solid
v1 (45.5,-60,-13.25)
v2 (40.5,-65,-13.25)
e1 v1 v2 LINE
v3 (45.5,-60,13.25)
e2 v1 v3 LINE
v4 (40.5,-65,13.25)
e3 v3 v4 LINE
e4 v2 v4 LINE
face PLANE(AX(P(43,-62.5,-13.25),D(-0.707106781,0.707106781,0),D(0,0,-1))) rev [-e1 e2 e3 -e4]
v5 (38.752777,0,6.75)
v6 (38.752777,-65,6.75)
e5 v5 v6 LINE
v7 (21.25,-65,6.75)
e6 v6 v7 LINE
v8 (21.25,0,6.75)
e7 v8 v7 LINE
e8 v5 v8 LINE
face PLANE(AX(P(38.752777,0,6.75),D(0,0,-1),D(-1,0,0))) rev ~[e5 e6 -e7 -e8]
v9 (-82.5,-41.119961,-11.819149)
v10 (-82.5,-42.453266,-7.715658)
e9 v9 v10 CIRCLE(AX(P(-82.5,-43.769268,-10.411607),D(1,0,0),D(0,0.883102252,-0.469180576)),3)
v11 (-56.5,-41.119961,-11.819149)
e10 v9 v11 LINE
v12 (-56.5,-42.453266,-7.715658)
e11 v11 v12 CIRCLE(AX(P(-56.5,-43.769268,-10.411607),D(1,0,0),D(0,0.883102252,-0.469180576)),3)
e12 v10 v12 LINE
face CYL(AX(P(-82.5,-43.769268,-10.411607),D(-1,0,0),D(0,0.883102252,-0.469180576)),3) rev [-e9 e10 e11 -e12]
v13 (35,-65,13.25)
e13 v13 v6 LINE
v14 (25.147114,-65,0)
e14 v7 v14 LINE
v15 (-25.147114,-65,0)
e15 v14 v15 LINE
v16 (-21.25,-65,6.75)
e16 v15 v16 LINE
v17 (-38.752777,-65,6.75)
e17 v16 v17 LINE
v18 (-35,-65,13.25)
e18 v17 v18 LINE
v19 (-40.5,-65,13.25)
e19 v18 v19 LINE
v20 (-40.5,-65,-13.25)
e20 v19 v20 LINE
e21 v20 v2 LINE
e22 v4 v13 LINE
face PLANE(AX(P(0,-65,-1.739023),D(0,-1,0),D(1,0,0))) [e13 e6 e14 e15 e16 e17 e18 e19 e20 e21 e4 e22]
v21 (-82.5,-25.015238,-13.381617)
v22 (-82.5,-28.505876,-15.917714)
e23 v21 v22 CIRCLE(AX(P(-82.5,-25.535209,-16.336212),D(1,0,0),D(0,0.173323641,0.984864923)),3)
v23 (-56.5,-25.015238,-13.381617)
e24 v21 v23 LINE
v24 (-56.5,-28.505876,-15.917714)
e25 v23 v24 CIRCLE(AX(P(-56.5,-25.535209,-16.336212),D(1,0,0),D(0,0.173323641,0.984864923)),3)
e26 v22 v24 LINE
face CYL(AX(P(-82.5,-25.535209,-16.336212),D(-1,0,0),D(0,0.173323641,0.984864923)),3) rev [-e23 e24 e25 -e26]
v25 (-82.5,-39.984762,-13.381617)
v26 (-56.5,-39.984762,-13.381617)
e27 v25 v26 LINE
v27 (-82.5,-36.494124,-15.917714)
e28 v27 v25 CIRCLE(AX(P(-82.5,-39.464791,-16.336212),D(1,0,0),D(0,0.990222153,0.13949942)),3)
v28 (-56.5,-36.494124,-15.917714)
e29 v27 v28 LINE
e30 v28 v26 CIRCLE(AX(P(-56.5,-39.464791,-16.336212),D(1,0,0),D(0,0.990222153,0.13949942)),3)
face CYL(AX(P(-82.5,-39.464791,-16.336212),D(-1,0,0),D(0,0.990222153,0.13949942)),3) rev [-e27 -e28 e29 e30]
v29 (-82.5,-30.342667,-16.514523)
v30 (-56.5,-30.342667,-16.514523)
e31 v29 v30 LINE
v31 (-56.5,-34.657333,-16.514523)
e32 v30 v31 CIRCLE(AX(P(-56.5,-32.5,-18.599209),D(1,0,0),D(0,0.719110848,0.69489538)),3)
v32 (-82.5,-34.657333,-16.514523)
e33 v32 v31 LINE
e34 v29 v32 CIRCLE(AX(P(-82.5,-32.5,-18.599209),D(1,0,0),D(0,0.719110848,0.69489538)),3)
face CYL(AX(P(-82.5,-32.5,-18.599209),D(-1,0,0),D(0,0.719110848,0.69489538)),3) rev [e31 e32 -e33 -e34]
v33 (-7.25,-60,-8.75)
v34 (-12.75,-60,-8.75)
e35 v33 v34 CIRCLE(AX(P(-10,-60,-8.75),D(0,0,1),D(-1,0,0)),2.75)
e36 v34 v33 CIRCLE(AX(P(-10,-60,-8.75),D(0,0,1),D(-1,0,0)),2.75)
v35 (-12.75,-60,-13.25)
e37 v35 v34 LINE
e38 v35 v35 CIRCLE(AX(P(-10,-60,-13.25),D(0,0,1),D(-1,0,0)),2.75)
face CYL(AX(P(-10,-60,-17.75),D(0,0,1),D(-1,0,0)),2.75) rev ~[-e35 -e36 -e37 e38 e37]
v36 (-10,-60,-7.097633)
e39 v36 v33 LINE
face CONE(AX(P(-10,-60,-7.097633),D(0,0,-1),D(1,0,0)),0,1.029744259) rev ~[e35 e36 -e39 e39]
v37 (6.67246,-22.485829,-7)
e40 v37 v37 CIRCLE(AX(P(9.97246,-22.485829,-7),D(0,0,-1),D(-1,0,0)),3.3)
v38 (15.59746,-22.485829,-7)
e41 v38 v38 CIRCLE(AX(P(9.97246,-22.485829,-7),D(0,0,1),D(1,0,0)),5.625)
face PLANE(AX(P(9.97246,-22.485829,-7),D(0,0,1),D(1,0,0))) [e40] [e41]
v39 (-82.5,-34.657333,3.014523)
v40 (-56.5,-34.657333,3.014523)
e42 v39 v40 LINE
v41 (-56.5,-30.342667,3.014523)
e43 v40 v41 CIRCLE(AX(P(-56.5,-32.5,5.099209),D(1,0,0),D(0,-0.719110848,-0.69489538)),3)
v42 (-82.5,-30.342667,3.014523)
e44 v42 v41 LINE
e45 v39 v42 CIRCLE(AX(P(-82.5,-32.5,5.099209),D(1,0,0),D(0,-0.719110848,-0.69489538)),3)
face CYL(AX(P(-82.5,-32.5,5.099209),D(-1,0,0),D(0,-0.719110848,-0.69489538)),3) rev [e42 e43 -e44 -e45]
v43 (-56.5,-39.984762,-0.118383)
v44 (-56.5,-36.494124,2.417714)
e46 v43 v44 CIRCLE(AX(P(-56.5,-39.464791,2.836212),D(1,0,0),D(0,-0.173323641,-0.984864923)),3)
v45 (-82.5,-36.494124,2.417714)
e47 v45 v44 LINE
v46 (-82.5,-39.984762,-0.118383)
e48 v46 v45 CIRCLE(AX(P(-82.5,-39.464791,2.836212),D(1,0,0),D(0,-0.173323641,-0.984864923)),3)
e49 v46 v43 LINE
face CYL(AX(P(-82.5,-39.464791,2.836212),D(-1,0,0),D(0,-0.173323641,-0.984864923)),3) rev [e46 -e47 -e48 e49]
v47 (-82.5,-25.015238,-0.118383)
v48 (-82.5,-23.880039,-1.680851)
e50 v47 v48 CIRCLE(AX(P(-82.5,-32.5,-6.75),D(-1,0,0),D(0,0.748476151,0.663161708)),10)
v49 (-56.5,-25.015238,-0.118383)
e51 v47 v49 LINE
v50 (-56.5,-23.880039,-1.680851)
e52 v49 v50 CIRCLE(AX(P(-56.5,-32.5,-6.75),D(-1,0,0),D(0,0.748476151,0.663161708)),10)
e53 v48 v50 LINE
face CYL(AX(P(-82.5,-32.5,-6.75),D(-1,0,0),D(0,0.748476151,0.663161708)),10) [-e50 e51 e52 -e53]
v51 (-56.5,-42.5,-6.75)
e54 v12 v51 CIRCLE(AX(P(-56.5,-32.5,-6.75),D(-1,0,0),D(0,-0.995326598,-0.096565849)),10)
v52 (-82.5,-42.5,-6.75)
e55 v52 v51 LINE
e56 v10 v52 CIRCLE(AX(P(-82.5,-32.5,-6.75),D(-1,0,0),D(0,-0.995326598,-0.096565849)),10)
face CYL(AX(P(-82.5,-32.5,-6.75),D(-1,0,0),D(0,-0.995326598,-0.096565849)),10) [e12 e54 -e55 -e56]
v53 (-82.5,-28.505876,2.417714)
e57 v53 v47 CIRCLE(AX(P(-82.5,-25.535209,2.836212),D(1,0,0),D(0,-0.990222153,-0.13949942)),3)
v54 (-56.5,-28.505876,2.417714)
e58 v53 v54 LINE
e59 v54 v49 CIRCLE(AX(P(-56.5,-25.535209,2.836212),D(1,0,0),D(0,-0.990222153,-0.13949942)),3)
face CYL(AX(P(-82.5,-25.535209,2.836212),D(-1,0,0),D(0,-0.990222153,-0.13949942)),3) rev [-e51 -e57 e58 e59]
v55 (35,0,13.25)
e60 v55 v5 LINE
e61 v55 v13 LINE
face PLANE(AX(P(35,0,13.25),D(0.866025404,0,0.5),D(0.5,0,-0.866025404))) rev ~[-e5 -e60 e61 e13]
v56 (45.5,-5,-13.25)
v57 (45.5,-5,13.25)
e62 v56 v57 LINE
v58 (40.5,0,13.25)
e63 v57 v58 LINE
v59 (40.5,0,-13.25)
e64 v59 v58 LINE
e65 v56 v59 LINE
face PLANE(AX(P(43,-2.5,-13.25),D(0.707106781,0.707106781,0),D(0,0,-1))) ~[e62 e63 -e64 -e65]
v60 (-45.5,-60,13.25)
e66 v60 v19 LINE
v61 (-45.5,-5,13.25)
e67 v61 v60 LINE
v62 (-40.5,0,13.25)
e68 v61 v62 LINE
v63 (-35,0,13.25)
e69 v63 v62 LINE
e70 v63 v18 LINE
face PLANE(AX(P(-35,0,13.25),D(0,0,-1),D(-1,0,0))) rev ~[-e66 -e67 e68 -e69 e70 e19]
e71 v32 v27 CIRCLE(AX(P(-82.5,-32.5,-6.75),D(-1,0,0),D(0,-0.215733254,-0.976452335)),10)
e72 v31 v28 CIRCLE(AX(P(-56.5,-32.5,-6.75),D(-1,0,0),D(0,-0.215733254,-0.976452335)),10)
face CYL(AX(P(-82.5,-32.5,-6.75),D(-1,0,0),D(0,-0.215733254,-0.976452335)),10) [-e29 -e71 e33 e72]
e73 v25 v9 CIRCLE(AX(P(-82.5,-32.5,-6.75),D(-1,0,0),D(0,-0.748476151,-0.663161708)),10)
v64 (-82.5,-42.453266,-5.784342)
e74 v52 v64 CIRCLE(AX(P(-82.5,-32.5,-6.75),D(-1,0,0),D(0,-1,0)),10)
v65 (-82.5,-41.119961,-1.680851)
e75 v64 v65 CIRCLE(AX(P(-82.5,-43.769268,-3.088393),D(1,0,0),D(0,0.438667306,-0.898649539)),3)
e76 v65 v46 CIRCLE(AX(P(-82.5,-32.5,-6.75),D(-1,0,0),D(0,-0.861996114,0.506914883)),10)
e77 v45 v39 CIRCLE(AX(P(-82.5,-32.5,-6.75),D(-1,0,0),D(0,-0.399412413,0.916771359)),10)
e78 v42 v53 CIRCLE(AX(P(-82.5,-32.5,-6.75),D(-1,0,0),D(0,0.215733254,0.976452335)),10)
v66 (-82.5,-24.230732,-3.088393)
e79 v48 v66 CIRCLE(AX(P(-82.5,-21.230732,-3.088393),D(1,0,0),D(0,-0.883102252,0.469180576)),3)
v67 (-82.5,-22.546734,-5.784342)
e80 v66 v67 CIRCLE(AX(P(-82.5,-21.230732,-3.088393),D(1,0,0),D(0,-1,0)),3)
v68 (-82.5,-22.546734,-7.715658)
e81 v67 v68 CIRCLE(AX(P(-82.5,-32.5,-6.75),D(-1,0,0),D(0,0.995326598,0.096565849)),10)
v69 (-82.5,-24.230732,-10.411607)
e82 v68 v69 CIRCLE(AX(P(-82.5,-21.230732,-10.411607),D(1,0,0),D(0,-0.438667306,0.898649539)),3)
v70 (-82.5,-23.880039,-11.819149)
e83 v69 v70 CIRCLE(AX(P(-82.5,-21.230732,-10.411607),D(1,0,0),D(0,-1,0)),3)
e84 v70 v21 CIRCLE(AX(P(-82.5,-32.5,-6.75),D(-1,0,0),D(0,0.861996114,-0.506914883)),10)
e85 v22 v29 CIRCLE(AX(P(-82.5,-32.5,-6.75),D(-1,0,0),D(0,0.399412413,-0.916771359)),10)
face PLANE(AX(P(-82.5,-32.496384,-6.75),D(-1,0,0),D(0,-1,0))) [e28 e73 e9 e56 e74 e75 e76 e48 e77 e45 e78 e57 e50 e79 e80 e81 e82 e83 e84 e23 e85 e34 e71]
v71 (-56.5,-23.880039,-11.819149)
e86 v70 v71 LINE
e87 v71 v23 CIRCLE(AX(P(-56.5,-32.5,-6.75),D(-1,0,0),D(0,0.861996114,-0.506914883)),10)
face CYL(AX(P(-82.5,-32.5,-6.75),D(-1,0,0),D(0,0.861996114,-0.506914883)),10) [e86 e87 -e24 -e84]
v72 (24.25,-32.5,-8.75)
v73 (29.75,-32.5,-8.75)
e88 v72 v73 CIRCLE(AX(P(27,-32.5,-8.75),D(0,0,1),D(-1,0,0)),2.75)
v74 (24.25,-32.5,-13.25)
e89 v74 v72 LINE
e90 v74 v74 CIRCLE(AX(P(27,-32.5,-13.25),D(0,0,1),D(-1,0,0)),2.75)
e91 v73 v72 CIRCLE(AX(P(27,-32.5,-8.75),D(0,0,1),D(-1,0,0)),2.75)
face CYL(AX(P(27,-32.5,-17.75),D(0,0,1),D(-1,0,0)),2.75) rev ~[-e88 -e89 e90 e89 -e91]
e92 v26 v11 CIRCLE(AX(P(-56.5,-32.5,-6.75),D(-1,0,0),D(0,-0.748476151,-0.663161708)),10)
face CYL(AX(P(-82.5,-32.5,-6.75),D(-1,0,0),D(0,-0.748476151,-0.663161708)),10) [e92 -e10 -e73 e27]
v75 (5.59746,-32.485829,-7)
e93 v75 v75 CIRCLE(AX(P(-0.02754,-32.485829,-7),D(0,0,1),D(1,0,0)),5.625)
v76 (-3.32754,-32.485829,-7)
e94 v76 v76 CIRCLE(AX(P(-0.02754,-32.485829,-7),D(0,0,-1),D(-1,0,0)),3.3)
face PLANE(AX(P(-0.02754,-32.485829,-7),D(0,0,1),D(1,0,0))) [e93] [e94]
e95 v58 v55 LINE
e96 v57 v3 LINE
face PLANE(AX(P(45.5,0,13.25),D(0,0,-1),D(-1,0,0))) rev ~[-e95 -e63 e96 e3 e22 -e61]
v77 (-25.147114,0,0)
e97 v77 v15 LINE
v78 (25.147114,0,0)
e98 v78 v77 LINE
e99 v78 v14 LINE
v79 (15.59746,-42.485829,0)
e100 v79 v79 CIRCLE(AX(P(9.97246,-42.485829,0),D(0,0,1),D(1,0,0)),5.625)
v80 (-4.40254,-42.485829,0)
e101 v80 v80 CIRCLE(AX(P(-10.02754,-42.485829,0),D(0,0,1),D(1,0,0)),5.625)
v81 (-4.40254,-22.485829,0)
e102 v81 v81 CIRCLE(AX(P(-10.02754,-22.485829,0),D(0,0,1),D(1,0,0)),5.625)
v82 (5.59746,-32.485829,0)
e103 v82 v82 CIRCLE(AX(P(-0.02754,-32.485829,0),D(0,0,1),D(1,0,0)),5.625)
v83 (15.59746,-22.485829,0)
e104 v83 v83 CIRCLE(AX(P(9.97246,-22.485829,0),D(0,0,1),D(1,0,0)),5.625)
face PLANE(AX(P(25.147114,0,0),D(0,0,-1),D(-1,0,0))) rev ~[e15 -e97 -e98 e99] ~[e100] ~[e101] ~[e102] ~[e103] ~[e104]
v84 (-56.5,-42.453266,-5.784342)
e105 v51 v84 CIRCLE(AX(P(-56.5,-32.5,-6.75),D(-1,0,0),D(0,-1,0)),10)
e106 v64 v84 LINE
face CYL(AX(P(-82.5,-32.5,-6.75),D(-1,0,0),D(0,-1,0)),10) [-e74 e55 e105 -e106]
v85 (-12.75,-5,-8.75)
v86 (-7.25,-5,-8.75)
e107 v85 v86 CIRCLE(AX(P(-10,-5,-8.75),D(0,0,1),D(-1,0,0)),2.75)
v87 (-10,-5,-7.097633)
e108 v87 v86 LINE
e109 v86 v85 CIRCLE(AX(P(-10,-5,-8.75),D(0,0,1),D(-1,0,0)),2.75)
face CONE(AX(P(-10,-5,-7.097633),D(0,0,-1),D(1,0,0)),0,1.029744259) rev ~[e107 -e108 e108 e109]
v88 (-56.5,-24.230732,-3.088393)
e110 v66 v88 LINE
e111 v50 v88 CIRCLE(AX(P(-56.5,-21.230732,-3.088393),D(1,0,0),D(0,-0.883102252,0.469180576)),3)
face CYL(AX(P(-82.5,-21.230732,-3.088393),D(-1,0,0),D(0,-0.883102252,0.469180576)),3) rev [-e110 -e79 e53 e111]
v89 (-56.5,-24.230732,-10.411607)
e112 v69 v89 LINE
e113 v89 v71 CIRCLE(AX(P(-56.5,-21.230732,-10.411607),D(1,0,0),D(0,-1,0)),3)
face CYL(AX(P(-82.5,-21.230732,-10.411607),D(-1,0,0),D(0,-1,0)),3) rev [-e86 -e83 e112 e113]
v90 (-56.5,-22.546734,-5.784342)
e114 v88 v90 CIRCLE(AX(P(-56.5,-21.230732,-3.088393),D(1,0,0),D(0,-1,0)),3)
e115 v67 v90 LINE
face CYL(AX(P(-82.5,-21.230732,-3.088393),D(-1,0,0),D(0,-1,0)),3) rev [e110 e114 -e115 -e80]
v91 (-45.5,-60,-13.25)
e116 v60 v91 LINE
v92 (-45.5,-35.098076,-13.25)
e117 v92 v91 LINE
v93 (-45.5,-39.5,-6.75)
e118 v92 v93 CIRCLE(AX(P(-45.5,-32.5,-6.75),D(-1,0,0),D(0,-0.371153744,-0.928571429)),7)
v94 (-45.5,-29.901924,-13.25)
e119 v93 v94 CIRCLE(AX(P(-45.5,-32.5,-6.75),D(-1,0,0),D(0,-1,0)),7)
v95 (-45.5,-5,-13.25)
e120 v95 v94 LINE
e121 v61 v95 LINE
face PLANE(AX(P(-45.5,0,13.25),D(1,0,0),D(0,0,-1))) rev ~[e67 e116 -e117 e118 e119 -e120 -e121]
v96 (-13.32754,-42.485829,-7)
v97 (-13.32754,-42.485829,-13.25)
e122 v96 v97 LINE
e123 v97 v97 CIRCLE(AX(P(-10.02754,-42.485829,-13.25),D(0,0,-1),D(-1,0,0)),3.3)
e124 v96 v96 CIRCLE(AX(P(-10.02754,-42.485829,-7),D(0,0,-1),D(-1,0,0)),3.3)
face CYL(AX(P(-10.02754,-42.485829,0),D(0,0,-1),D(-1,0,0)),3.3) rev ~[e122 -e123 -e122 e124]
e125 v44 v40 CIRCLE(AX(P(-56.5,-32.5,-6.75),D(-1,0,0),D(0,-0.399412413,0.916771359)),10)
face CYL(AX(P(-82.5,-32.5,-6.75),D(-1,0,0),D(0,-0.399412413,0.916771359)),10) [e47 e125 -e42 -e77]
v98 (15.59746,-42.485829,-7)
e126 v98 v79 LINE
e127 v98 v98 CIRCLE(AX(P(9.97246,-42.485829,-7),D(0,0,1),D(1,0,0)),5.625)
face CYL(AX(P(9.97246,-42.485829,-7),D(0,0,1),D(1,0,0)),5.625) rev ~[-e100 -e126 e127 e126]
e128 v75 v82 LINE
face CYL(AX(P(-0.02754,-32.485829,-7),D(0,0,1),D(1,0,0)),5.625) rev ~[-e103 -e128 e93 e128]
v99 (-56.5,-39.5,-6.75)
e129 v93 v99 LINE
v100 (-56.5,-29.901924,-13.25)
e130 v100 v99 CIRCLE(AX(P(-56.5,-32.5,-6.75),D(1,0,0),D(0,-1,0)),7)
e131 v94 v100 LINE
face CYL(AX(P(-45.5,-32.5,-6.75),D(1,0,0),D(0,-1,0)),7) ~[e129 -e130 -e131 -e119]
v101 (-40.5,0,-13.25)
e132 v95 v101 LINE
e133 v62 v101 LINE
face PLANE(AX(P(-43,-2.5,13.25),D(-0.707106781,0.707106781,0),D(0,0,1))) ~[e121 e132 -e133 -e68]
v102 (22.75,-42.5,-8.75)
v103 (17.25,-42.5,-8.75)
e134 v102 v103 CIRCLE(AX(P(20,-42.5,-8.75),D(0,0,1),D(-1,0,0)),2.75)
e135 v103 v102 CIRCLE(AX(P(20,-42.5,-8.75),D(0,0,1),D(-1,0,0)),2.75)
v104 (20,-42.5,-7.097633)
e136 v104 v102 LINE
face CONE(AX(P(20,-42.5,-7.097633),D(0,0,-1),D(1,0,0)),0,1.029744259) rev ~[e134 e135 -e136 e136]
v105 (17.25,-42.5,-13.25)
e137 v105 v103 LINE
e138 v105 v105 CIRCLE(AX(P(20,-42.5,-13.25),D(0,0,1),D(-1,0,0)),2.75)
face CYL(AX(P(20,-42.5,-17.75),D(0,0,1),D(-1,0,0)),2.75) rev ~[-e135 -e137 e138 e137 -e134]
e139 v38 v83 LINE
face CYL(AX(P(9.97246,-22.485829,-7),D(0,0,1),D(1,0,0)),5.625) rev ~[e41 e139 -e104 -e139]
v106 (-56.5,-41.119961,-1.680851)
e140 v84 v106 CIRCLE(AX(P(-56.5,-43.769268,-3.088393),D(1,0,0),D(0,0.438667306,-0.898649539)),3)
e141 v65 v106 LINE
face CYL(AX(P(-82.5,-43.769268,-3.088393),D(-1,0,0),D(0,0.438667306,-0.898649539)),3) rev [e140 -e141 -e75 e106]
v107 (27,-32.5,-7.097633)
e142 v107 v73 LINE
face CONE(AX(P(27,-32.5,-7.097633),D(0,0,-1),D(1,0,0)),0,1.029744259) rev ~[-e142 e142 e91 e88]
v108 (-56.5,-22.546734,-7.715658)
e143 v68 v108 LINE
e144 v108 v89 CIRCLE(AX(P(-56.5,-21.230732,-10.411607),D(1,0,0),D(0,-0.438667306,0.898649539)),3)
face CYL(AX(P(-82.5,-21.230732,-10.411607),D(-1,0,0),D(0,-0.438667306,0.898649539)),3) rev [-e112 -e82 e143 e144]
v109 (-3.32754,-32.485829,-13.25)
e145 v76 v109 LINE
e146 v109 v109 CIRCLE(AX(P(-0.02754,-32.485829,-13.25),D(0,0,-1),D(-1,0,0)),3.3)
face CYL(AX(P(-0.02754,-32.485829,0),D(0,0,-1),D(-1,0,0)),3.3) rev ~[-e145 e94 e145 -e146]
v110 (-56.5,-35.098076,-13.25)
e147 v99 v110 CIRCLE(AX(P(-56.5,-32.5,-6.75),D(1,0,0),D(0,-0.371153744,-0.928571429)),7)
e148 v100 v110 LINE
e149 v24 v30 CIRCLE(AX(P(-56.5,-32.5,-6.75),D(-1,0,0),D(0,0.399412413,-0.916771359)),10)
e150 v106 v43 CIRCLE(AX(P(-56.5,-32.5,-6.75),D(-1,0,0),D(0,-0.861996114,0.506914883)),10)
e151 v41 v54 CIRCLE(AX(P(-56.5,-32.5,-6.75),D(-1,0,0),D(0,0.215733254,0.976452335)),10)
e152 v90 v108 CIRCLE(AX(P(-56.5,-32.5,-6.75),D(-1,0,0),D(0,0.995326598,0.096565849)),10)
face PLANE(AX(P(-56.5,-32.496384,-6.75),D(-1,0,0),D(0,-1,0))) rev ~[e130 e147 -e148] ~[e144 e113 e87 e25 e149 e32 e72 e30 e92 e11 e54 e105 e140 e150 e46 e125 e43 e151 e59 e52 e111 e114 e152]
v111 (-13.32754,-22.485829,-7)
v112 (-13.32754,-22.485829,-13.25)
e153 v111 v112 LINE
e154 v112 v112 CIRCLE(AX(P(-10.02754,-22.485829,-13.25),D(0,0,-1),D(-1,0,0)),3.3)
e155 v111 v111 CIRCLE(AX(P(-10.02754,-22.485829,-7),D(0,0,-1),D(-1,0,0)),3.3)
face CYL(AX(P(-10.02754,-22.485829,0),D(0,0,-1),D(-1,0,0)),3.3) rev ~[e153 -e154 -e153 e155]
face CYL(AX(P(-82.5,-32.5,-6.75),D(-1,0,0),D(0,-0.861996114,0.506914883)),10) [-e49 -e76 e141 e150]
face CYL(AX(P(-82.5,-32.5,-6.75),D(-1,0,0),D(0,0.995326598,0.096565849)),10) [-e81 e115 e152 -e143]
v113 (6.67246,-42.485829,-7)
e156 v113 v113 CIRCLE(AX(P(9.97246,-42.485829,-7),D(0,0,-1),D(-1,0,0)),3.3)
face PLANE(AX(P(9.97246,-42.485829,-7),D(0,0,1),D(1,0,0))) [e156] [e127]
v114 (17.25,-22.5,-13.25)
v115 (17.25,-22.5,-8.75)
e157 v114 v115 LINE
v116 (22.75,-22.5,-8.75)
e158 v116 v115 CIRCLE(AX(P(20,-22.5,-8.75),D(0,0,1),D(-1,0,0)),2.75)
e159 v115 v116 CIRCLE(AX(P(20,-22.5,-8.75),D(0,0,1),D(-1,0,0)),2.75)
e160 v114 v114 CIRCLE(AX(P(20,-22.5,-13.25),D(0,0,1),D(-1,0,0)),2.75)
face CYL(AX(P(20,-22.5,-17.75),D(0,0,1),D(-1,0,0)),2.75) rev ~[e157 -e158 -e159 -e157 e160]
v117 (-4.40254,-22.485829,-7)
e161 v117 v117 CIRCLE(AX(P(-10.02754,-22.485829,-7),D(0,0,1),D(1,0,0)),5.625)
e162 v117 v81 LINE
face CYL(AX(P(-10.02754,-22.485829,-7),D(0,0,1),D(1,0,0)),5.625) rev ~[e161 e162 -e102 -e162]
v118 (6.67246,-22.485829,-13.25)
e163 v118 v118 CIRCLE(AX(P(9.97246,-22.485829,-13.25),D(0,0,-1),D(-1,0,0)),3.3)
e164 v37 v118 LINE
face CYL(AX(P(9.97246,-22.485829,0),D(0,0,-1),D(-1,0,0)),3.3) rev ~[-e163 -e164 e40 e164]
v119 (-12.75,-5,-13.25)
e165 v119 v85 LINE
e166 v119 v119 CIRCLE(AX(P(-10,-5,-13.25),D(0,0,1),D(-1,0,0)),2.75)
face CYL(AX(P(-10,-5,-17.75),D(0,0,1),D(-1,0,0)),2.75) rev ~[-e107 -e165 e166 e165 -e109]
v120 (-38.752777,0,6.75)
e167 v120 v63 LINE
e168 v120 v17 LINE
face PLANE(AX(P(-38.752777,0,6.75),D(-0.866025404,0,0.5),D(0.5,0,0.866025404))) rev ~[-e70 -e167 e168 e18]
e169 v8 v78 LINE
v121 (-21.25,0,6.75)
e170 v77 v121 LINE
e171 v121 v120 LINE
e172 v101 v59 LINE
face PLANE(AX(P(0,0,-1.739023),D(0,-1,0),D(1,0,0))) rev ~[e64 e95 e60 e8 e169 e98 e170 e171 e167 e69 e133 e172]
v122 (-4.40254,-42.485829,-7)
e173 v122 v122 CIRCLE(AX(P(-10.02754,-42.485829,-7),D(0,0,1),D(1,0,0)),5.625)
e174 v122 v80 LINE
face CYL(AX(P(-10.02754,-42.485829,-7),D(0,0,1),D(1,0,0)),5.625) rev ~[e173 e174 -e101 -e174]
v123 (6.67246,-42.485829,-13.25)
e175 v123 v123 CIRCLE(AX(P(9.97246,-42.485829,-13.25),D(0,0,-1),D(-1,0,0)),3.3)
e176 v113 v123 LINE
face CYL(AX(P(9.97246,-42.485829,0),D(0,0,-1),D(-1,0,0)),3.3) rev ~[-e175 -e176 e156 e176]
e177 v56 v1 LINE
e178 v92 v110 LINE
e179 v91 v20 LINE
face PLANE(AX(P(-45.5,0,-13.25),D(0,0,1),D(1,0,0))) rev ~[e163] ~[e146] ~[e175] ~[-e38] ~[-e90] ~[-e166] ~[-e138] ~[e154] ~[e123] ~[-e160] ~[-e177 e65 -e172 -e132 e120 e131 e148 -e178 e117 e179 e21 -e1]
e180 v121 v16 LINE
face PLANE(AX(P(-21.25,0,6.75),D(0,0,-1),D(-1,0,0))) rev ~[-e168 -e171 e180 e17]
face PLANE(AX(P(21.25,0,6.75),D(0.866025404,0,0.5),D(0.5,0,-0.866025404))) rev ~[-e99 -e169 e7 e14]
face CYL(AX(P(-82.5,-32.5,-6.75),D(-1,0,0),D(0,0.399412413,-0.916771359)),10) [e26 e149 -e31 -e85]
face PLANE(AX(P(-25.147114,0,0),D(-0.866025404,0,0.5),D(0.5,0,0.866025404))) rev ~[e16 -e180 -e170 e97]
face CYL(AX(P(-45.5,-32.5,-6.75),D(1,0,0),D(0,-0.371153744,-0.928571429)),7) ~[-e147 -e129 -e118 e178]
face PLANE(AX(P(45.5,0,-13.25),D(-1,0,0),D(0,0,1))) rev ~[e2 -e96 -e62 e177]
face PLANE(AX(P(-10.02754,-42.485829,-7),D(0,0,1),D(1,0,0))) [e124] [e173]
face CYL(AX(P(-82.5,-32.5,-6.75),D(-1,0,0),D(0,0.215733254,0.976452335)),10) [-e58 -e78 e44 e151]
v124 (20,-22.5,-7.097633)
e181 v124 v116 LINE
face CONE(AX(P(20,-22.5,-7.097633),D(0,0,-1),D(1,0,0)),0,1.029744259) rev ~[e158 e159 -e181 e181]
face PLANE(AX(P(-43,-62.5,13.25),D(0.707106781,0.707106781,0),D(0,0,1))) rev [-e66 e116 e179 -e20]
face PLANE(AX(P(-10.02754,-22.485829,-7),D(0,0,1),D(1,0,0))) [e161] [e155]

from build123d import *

# Parameters (mm, degrees)
F1_DEPTH       = 65
F2_SIZE        = 5
F5_D           = 6.6
F5_CBORE_D     = 11.25
F5_CBORE_DEPTH = 7
F6_D           = 5.5
F6_DEPTH       = 4.5
F6_TIP         = 1.6523667023
F8_DEPTH       = 37
F10_DEPTH      = 26


with BuildPart() as f1:
    # F0 (on Front) → F1 (new body)
    with BuildSketch(Plane.XZ):
        Polygon((45.5, -13.25), (45.5, 13.25), (35, 13.25), (38.7527767497, 6.75), (21.25, 6.75), (25.147114317, 0), (0, 0), (-25.147114317, 0), (-21.25, 6.75), (-38.7527767497, 6.75), (-35, 13.25), (-45.5, 13.25), (-45.5, -13.25), align=None)
    extrude(amount=F1_DEPTH)

    # F2
    f2_edges = [f1.edges().sort_by_distance(p)[0] for p in [
        (45.5, -65, 0),
        (45.5, 0, 0),
        (-45.5, -65, 0),
        (-45.5, 0, 0),
    ]]
    chamfer(f2_edges, length=F2_SIZE)

    # F5 (through all)
    with Locations(Plane.XY):
        with Locations((9.9724601813, -22.4858294427), (-10.0275398187, -22.4858294427), (-10.0275398187, -42.4858294427), (9.9724601813, -42.4858294427), (-0.0275398187, -32.4858294427)):
            CounterBoreHole(F5_D / 2, F5_CBORE_D / 2, F5_CBORE_DEPTH)

    # F6
    with Locations(Plane(origin=(0, 0, -13.25), x_dir=(1, 0, 0), z_dir=(0, 0, -1))):
        with Locations((27, 32.5), (20, 22.5), (20, 42.5), (-10, 5), (-10, 60)):
            Hole(F6_D / 2, depth=F6_DEPTH)
            with Locations((0, 0, -(F6_DEPTH + F6_TIP / 2))):  # 118° drill point
                Cone(0, F6_D / 2, F6_TIP, mode=Mode.SUBTRACT)



with BuildPart() as f8:
    # F7 (on face) → F8 (new body)
    with BuildSketch(Plane(origin=(-45.5, 0, 0), x_dir=(0, -1, 0), z_dir=(-1, 0, 0))):
        with BuildLine():
            ThreePointArc((35.0980762114, -13.25), (38.2959698705, -10.6751411771), (39.5, -6.75))
            ThreePointArc((39.5, -6.75), (28.5748588229, -0.9540301295), (29.9019237886, -13.25))
            Line((29.9019237886, -13.25), (35.0980762114, -13.25))
        make_face()
    extrude(amount=F8_DEPTH)


with BuildPart() as f1_1:
    add(f1.part)

    add(f8.part)  # F10 merges F8
    # F9 (on face) → F10 (join)
    with BuildSketch(Plane(origin=(-82.5, 0, 0), x_dir=(0, -1, 0), z_dir=(-1, 0, 0))):
        with BuildLine():
            ThreePointArc((42.4532659811, -7.7156584847), (42.4883096621, -7.2333943467), (42.5, -6.75))
            ThreePointArc((42.5, -6.75), (42.4883096621, -6.2666056533), (42.4532659811, -5.7843415153))
            ThreePointArc((42.4532659811, -5.7843415153), (40.9160983506, -4.0154438804), (41.1199611443, -1.680851169))
            ThreePointArc((41.1199611443, -1.680851169), (40.5901699437, -0.8721474771), (39.9847615122, -0.1183829193))
            ThreePointArc((39.9847615122, -0.1183829193), (37.7014348334, 0.4091608651), (36.4941241321, 2.4177135872))
            ThreePointArc((36.4941241321, 2.4177135872), (35.5901699437, 2.760565163), (34.6573325433, 3.0145233523))
            ThreePointArc((34.6573325433, 3.0145233523), (32.5, 2.0992094912), (30.3426674567, 3.0145233523))
            ThreePointArc((30.3426674567, 3.0145233523), (29.4098300563, 2.760565163), (28.5058758679, 2.4177135872))
            ThreePointArc((28.5058758679, 2.4177135872), (27.2985651666, 0.4091608651), (25.0152384878, -0.1183829193))
            ThreePointArc((25.0152384878, -0.1183829193), (24.4098300563, -0.8721474771), (23.8800388557, -1.680851169))
            ThreePointArc((23.8800388557, -1.680851169), (24.141738822, -2.3631068384), (24.2307321005, -3.0883928973))
            ThreePointArc((24.2307321005, -3.0883928973), (23.775138294, -4.6777314775), (22.5467340189, -5.7843415153))
            ThreePointArc((22.5467340189, -5.7843415153), (22.5, -6.75), (22.5467340189, -7.7156584847))
            ThreePointArc((22.5467340189, -7.7156584847), (23.775138294, -8.8222685225), (24.2307321005, -10.4116071027))
            ThreePointArc((24.2307321005, -10.4116071027), (24.141738822, -11.1368931616), (23.8800388557, -11.819148831))
            ThreePointArc((23.8800388557, -11.819148831), (24.4098300563, -12.6278525229), (25.0152384878, -13.3816170807))
            ThreePointArc((25.0152384878, -13.3816170807), (27.2985651666, -13.9091608651), (28.5058758679, -15.9177135872))
            ThreePointArc((28.5058758679, -15.9177135872), (29.4098300563, -16.260565163), (30.3426674567, -16.5145233523))
            ThreePointArc((30.3426674567, -16.5145233523), (32.5, -15.5992094912), (34.6573325433, -16.5145233523))
            ThreePointArc((34.6573325433, -16.5145233523), (35.5901699437, -16.260565163), (36.4941241321, -15.9177135872))
            ThreePointArc((36.4941241321, -15.9177135872), (37.7014348334, -13.9091608651), (39.9847615122, -13.3816170807))
            ThreePointArc((39.9847615122, -13.3816170807), (40.5901699437, -12.6278525229), (41.1199611443, -11.819148831))
            ThreePointArc((41.1199611443, -11.819148831), (40.9160983506, -9.4845561196), (42.4532659811, -7.7156584847))
        make_face()
        with BuildLine():
            ThreePointArc((29.9019237886, -13.25), (32.5, 0.25), (35.0980762114, -13.25))
            Line((35.0980762114, -13.25), (29.9019237886, -13.25))
        make_face(mode=Mode.SUBTRACT)
        with BuildLine():
            Line((29.9019237886, -13.25), (35.0980762114, -13.25))
            ThreePointArc((35.0980762114, -13.25), (32.5, 0.25), (29.9019237886, -13.25))
        make_face()
    extrude(amount=-F10_DEPTH)


solid = f1_1.part
